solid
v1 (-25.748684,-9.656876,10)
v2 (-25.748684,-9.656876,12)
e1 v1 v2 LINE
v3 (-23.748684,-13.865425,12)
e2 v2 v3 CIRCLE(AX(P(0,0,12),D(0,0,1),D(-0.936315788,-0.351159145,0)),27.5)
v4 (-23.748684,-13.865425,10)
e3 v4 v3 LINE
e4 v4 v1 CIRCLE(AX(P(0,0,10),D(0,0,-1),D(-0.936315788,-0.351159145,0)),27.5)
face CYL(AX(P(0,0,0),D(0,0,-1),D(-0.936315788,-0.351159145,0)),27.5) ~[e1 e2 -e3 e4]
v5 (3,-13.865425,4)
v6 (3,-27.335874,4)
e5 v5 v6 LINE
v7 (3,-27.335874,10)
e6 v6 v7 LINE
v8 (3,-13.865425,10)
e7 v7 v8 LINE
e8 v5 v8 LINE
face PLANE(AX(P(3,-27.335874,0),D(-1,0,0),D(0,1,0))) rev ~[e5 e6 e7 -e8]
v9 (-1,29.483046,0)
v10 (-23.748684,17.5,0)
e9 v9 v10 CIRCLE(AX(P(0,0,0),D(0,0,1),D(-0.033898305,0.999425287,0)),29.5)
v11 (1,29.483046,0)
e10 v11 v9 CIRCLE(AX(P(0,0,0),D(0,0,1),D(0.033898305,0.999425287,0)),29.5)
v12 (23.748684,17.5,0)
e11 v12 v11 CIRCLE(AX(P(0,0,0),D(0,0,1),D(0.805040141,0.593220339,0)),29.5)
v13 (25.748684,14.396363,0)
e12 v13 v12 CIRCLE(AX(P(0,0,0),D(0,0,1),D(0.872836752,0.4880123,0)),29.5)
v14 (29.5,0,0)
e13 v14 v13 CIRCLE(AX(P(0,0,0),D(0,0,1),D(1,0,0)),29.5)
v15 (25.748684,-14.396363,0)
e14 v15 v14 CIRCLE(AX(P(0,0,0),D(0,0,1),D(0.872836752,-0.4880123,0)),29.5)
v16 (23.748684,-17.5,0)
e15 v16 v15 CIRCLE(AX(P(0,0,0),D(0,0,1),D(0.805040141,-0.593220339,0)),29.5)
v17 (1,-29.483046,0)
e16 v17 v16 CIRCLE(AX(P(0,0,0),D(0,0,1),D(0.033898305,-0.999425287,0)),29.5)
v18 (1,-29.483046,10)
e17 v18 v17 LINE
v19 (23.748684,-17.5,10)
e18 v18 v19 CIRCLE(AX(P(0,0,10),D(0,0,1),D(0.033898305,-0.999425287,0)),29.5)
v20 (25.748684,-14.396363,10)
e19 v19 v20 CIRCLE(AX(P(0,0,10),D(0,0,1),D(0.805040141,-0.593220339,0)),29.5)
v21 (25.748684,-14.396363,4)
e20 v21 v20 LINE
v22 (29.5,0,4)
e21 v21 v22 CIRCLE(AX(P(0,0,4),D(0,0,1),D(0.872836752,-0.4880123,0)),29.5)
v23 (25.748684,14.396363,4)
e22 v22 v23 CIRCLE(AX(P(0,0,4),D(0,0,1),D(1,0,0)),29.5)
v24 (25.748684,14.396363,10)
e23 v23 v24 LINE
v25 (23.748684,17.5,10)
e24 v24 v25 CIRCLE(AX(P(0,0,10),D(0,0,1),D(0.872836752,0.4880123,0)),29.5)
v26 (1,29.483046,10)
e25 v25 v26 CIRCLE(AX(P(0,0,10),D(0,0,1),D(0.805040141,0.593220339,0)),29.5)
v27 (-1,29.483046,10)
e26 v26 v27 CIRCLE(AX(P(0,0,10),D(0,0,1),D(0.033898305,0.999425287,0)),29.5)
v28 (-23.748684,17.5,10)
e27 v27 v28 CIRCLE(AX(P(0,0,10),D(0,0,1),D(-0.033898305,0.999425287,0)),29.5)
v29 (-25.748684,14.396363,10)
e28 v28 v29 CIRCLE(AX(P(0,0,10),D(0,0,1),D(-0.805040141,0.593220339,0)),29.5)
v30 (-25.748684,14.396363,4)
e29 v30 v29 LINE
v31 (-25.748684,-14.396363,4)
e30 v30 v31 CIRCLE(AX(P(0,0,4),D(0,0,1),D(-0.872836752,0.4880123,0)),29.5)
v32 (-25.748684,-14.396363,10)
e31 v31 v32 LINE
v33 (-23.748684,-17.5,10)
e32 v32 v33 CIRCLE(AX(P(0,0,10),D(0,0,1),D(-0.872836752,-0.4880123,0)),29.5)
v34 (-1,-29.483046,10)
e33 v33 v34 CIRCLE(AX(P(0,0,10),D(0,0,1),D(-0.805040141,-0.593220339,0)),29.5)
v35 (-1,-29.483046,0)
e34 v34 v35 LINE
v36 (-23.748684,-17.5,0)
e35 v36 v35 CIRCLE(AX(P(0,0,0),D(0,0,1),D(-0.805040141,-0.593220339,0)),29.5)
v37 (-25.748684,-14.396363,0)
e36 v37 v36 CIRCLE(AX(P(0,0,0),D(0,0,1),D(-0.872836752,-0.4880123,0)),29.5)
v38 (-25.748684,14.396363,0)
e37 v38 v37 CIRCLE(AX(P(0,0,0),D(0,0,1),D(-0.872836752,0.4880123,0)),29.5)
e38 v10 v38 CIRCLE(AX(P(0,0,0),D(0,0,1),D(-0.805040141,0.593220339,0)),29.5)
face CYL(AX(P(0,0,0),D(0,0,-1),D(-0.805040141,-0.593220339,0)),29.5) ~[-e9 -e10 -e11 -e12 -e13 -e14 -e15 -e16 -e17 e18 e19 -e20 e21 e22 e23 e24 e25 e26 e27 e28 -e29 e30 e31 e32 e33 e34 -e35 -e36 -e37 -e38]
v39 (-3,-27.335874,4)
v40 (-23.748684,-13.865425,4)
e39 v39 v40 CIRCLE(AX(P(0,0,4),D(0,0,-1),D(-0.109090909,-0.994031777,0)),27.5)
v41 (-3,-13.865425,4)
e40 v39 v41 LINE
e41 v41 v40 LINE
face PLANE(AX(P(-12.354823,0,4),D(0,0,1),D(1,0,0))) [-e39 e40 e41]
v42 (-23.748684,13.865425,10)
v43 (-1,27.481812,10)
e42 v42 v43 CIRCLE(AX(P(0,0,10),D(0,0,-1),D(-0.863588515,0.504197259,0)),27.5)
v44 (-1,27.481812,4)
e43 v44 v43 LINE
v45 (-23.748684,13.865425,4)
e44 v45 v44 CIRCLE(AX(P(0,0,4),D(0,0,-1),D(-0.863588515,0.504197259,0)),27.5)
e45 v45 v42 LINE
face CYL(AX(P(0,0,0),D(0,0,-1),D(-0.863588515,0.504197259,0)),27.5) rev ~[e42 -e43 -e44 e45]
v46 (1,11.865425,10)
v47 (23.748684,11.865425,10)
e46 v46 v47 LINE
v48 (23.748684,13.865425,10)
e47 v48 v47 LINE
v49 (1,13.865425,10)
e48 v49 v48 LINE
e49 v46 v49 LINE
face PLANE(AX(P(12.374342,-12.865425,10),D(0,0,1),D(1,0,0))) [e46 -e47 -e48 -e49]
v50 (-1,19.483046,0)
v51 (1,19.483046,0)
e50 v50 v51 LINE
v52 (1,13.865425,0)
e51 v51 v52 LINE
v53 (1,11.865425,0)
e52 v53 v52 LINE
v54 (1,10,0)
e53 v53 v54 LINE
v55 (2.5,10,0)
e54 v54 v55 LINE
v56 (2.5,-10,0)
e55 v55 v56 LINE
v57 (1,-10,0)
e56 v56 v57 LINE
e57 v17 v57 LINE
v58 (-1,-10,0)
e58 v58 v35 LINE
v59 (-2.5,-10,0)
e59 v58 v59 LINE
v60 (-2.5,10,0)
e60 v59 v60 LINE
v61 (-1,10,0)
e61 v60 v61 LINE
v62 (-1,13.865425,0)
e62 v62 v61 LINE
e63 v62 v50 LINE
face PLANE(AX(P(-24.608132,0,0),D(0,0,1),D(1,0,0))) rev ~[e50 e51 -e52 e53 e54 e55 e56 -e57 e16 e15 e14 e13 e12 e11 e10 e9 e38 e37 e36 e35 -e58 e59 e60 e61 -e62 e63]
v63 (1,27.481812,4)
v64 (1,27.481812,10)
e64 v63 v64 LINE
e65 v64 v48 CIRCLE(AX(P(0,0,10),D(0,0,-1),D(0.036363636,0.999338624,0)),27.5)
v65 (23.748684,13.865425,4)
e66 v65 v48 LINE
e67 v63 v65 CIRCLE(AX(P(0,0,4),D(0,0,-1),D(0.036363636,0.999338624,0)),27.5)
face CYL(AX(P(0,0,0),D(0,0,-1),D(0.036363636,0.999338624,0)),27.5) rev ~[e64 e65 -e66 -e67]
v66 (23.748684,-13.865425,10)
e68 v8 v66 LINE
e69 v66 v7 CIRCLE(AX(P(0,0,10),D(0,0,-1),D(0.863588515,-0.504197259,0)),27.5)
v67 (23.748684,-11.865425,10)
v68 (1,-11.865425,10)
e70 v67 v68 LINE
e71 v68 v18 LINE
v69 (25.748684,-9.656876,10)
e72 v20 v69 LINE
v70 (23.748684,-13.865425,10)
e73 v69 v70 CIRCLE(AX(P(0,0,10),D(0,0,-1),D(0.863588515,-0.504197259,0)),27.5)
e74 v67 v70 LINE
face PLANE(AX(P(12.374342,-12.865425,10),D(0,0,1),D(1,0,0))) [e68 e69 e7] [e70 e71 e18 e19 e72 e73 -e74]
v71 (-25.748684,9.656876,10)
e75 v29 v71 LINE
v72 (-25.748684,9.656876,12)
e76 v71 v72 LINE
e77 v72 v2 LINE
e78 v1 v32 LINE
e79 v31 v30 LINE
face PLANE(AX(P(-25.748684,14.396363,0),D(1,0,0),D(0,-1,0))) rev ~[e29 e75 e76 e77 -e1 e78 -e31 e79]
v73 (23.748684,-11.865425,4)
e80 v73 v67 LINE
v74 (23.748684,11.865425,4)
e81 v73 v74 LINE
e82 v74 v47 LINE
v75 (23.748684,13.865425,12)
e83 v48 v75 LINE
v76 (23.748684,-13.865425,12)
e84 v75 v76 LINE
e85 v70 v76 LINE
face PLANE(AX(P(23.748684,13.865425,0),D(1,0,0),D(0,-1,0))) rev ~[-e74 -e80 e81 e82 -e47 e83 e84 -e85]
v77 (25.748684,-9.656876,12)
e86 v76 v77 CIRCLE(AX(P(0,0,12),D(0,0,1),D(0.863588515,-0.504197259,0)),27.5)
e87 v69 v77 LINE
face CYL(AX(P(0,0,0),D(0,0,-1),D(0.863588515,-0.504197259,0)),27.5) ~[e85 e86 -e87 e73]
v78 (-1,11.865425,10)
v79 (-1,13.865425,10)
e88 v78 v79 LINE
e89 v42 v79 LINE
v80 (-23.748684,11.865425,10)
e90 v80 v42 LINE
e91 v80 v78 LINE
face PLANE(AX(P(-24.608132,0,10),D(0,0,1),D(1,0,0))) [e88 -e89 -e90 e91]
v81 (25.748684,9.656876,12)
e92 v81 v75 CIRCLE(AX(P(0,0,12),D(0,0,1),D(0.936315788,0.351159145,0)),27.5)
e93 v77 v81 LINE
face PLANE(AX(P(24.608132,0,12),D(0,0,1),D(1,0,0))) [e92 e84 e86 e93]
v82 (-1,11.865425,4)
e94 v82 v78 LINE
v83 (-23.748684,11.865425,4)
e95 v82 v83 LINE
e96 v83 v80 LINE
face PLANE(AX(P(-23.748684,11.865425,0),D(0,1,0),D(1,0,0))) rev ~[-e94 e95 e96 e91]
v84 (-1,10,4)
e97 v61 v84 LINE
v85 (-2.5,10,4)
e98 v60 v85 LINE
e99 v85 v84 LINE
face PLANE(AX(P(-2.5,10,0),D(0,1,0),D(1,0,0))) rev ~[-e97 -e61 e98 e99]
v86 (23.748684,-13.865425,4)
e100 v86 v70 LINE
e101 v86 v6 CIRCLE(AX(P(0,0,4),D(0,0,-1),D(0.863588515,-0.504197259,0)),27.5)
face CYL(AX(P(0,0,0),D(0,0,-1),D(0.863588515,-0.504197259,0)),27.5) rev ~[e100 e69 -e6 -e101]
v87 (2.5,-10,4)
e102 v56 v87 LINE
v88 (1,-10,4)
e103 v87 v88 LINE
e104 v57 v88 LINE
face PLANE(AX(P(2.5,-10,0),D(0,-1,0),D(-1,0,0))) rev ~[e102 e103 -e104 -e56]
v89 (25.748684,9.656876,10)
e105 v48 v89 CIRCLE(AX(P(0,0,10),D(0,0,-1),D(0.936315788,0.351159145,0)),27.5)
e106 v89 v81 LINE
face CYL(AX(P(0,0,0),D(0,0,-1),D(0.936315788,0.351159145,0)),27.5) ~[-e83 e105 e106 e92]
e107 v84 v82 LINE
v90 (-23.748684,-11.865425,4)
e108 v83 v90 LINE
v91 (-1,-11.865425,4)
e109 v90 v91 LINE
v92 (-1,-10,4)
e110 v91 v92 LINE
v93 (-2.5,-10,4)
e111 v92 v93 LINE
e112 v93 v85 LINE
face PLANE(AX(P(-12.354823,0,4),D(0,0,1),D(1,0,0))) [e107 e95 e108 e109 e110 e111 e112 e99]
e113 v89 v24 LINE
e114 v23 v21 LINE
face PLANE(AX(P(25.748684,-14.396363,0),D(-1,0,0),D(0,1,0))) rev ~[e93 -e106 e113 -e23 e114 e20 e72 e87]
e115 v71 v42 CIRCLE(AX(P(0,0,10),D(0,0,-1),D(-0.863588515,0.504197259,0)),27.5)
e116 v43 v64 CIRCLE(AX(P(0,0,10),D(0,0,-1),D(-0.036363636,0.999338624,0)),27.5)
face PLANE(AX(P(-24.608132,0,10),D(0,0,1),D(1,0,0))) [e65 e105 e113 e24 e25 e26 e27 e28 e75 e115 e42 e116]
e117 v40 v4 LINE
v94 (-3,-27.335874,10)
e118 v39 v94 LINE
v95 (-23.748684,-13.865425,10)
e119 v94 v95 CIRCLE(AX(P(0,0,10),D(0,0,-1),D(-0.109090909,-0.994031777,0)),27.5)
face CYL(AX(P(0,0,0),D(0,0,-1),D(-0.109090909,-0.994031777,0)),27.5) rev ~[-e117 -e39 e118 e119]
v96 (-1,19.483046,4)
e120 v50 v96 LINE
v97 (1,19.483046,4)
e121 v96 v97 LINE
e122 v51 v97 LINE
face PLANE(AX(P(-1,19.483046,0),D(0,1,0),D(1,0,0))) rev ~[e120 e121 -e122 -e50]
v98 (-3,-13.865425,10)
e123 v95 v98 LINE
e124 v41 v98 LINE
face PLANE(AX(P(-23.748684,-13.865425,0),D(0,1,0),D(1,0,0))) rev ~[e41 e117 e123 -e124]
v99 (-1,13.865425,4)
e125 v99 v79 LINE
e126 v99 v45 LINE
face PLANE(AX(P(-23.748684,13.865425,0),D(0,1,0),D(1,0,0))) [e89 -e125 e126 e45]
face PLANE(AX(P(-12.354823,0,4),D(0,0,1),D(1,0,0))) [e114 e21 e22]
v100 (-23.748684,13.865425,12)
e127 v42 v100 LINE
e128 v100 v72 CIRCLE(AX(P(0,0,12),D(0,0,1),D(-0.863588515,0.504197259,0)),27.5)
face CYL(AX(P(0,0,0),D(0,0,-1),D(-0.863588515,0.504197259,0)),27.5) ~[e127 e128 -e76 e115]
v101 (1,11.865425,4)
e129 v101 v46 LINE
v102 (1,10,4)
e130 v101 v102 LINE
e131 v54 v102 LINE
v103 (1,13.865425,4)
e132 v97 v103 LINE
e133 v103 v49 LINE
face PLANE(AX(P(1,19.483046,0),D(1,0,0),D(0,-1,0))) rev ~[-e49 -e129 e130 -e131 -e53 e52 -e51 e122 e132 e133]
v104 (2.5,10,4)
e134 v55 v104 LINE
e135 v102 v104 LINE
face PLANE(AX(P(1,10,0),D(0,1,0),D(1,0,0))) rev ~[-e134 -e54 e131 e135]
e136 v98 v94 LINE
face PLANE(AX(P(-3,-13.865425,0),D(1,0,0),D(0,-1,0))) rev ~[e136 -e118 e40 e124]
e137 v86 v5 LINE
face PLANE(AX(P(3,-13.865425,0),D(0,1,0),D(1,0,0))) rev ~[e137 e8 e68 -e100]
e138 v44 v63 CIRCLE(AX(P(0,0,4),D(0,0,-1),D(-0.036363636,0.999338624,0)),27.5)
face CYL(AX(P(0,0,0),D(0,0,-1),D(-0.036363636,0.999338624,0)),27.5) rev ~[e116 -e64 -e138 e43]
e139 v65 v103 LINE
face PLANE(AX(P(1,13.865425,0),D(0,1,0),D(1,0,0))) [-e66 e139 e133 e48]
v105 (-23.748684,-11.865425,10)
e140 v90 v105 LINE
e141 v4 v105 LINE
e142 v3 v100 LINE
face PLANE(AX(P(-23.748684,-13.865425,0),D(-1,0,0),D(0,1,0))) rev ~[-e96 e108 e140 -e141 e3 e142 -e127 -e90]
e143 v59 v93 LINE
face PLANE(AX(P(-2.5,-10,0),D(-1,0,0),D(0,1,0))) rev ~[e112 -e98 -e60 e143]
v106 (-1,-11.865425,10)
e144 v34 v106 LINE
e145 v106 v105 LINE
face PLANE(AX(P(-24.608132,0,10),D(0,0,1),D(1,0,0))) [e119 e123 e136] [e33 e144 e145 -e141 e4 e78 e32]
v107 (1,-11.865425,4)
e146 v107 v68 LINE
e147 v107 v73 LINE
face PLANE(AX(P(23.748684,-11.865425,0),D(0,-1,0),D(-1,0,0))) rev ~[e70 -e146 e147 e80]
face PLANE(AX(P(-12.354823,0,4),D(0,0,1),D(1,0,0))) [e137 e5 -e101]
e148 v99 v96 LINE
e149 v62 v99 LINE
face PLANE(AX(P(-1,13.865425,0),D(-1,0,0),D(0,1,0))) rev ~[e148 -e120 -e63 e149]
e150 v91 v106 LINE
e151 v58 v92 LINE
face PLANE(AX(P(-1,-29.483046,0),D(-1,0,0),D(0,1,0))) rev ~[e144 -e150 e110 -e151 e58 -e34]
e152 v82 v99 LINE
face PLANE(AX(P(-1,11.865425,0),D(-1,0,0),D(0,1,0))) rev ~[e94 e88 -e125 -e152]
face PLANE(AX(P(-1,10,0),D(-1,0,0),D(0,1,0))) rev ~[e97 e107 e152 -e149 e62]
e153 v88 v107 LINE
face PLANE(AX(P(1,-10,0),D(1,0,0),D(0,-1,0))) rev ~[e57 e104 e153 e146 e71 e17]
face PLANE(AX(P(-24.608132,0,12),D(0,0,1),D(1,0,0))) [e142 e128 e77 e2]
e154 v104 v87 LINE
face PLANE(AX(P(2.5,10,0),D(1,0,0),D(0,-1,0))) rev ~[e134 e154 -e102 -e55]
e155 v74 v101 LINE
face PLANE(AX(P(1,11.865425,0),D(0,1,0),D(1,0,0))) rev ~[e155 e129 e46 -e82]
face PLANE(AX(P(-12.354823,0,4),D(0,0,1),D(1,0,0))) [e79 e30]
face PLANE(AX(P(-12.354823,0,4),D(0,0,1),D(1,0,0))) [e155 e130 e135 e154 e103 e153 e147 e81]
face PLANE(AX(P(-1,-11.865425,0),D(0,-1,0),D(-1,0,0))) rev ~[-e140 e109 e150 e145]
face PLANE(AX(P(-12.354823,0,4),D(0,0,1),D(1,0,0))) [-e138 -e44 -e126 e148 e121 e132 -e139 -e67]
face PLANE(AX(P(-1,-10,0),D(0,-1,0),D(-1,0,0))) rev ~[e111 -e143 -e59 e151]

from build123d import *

# Parameters (mm, degrees)
F0_W     = 22.7486841741
F0_H     = 2
F1_DEPTH = 4
F2_DEPTH = 12
F3_DEPTH = 10
F4_DEPTH = 10


with BuildPart() as f1:
    # F0 (on Top) → F1 (new body)
    with BuildSketch(Plane.XY):
        Polygon((-1, 10), (-1, 11.8654246239), (-23.7486841741, 11.8654246239), (-23.7486841741, -11.8654246239), (-1, -11.8654246239), (-1, -10), (-2.5, -10), (-2.5, 10), align=None)
        with BuildLine():
            Line((-23.7486841741, 11.8654246239), (-23.7486841741, 13.8654246239))
            ThreePointArc((-23.7486841741, 13.8654246239), (-24.8379817562, 11.8035868395), (-25.7486841741, 9.6568764776))
            Line((-25.7486841741, 9.6568764776), (-25.7486841741, -9.6568764776))
            ThreePointArc((-25.7486841741, -9.6568764776), (-24.8379817562, -11.8035868395), (-23.7486841741, -13.8654246239))
            Line((-23.7486841741, -13.8654246239), (-23.7486841741, -11.8654246239))
            Line((-23.7486841741, -11.8654246239), (-23.7486841741, 11.8654246239))
        make_face()
        with BuildLine():
            Line((-25.7486841741, -9.6568764776), (-25.7486841741, 9.6568764776))
            ThreePointArc((-25.7486841741, 9.6568764776), (-27.5, 0), (-25.7486841741, -9.6568764776))
        make_face()
        with BuildLine():
            Line((-25.7486841741, 9.6568764776), (-25.7486841741, 14.3963628498))
            ThreePointArc((-25.7486841741, 14.3963628498), (-29.5, 0), (-25.7486841741, -14.3963628498))
            Line((-25.7486841741, -14.3963628498), (-25.7486841741, -9.6568764776))
            ThreePointArc((-25.7486841741, -9.6568764776), (-27.5, 0), (-25.7486841741, 9.6568764776))
        make_face()
        with BuildLine():
            Line((-23.7486841741, 13.8654246239), (-23.7486841741, 17.5))
            ThreePointArc((-23.7486841741, 17.5), (-24.7972883445, 15.9795022063), (-25.7486841741, 14.3963628498))
            Line((-25.7486841741, 14.3963628498), (-25.7486841741, 9.6568764776))
            ThreePointArc((-25.7486841741, 9.6568764776), (-24.8379817562, 11.8035868395), (-23.7486841741, 13.8654246239))
        make_face()
        with BuildLine():
            Line((-1, 27.4818121673), (-1, 29.4830459756))
            ThreePointArc((-1, 29.4830459756), (-13.7485522802, 26.1003316109), (-23.7486841741, 17.5))
            Line((-23.7486841741, 17.5), (-23.7486841741, 13.8654246239))
            ThreePointArc((-23.7486841741, 13.8654246239), (-14.1235917712, 23.5960622876), (-1, 27.4818121673))
        make_face()
        with BuildLine():
            Line((-1, 19.4830459756), (-1, 27.4818121673))
            ThreePointArc((-1, 27.4818121673), (-14.1235917712, 23.5960622876), (-23.7486841741, 13.8654246239))
            Line((-23.7486841741, 13.8654246239), (-1, 13.8654246239))
            Line((-1, 13.8654246239), (-1, 19.4830459756))
        make_face()
        with Locations((-12.374342087, 12.8654246239)):
            Rectangle(F0_W, F0_H)
        with BuildLine():
            Line((23.7486841741, 13.8654246239), (23.7486841741, 17.5))
            ThreePointArc((23.7486841741, 17.5), (13.7485522802, 26.1003316109), (1, 29.4830459756))
            Line((1, 29.4830459756), (1, 27.4818121673))
            ThreePointArc((1, 27.4818121673), (14.1235917712, 23.5960622876), (23.7486841741, 13.8654246239))
        make_face()
        with BuildLine():
            Line((1, 27.4818121673), (1, 29.4830459756))
            ThreePointArc((1, 29.4830459756), (0, 29.5), (-1, 29.4830459756))
            Line((-1, 29.4830459756), (-1, 27.4818121673))
            ThreePointArc((-1, 27.4818121673), (0, 27.5), (1, 27.4818121673))
        make_face()
        with BuildLine():
            Line((1, 19.4830459756), (1, 27.4818121673))
            ThreePointArc((1, 27.4818121673), (0, 27.5), (-1, 27.4818121673))
            Line((-1, 27.4818121673), (-1, 19.4830459756))
            Line((-1, 19.4830459756), (1, 19.4830459756))
        make_face()
        with BuildLine():
            Line((1, 13.8654246239), (23.7486841741, 13.8654246239))
            ThreePointArc((23.7486841741, 13.8654246239), (14.1235917712, 23.5960622876), (1, 27.4818121673))
            Line((1, 27.4818121673), (1, 19.4830459756))
            Line((1, 19.4830459756), (1, 13.8654246239))
        make_face()
        with Locations((12.374342087, 12.8654246239)):
            Rectangle(F0_W, F0_H)
        Polygon((23.7486841741, -11.8654246239), (23.7486841741, 11.8654246239), (1, 11.8654246239), (1, 10), (2.5, 10), (2.5, -10), (1, -10), (1, -11.8654246239), align=None)
        Polygon((3, -13.8654246239), (23.7486841741, -13.8654246239), (23.7486841741, -11.8654246239), (1, -11.8654246239), (1, -13.8654246239), align=None)
        with BuildLine():
            ThreePointArc((3, -27.3358738657), (14.9745209257, -23.0654226721), (23.7486841741, -13.8654246239))
            Line((23.7486841741, -13.8654246239), (3, -13.8654246239))
            Line((3, -13.8654246239), (3, -27.3358738657))
        make_face()
        Polygon((-23.7486841741, -11.8654246239), (-23.7486841741, -13.8654246239), (-3, -13.8654246239), (-1, -13.8654246239), (-1, -11.8654246239), align=None)
        with BuildLine():
            Line((-3, -13.8654246239), (-23.7486841741, -13.8654246239))
            ThreePointArc((-23.7486841741, -13.8654246239), (-14.9745209257, -23.0654226721), (-3, -27.3358738657))
            Line((-3, -27.3358738657), (-3, -13.8654246239))
        make_face()
        with BuildLine():
            ThreePointArc((-23.7486841741, -17.5), (-13.7485522802, -26.1003316109), (-1, -29.4830459756))
            Line((-1, -29.4830459756), (-1, -27.4818121673))
            ThreePointArc((-1, -27.4818121673), (-2.0013306816, -27.4270792376), (-3, -27.3358738657))
            ThreePointArc((-3, -27.3358738657), (-14.9745209257, -23.0654226721), (-23.7486841741, -13.8654246239))
            Line((-23.7486841741, -13.8654246239), (-23.7486841741, -17.5))
        make_face()
        with BuildLine():
            ThreePointArc((-25.7486841741, -14.3963628498), (-24.7972883445, -15.9795022063), (-23.7486841741, -17.5))
            Line((-23.7486841741, -17.5), (-23.7486841741, -13.8654246239))
            ThreePointArc((-23.7486841741, -13.8654246239), (-24.8379817562, -11.8035868395), (-25.7486841741, -9.6568764776))
            Line((-25.7486841741, -9.6568764776), (-25.7486841741, -14.3963628498))
        make_face()
        with BuildLine():
            ThreePointArc((1, -29.4830459756), (13.7485522802, -26.1003316109), (23.7486841741, -17.5))
            Line((23.7486841741, -17.5), (23.7486841741, -13.8654246239))
            ThreePointArc((23.7486841741, -13.8654246239), (14.9745209257, -23.0654226721), (3, -27.3358738657))
            ThreePointArc((3, -27.3358738657), (2.0013306816, -27.4270792376), (1, -27.4818121673))
            Line((1, -27.4818121673), (1, -29.4830459756))
        make_face()
        with BuildLine():
            Line((25.7486841741, -9.6568764776), (25.7486841741, 9.6568764776))
            ThreePointArc((25.7486841741, 9.6568764776), (24.8379817562, 11.8035868395), (23.7486841741, 13.8654246239))
            Line((23.7486841741, 13.8654246239), (23.7486841741, 11.8654246239))
            Line((23.7486841741, 11.8654246239), (23.7486841741, -11.8654246239))
            Line((23.7486841741, -11.8654246239), (23.7486841741, -13.8654246239))
            ThreePointArc((23.7486841741, -13.8654246239), (24.8379817562, -11.8035868395), (25.7486841741, -9.6568764776))
        make_face()
        with BuildLine():
            ThreePointArc((27.5, 0), (27.0586290745, 4.9071980403), (25.7486841741, 9.6568764776))
            Line((25.7486841741, 9.6568764776), (25.7486841741, -9.6568764776))
            ThreePointArc((25.7486841741, -9.6568764776), (27.0586290745, -4.9071980403), (27.5, 0))
        make_face()
        with BuildLine():
            ThreePointArc((25.7486841741, -14.3963628498), (28.5467702476, -7.4385420905), (29.5, 0))
            ThreePointArc((29.5, 0), (28.5467702476, 7.4385420905), (25.7486841741, 14.3963628498))
            Line((25.7486841741, 14.3963628498), (25.7486841741, 9.6568764776))
            ThreePointArc((25.7486841741, 9.6568764776), (27.0586290745, 4.9071980403), (27.5, 0))
            ThreePointArc((27.5, 0), (27.0586290745, -4.9071980403), (25.7486841741, -9.6568764776))
            Line((25.7486841741, -9.6568764776), (25.7486841741, -14.3963628498))
        make_face()
        with BuildLine():
            Line((25.7486841741, 9.6568764776), (25.7486841741, 14.3963628498))
            ThreePointArc((25.7486841741, 14.3963628498), (24.7972883445, 15.9795022063), (23.7486841741, 17.5))
            Line((23.7486841741, 17.5), (23.7486841741, 13.8654246239))
            ThreePointArc((23.7486841741, 13.8654246239), (24.8379817562, 11.8035868395), (25.7486841741, 9.6568764776))
        make_face()
        with BuildLine():
            ThreePointArc((23.7486841741, -17.5), (24.7972883445, -15.9795022063), (25.7486841741, -14.3963628498))
            Line((25.7486841741, -14.3963628498), (25.7486841741, -9.6568764776))
            ThreePointArc((25.7486841741, -9.6568764776), (24.8379817562, -11.8035868395), (23.7486841741, -13.8654246239))
            Line((23.7486841741, -13.8654246239), (23.7486841741, -17.5))
        make_face()
        with BuildLine():
            ThreePointArc((-3, -27.3358738657), (-2.0013306816, -27.4270792376), (-1, -27.4818121673))
            Line((-1, -27.4818121673), (-1, -13.8654246239))
            Line((-1, -13.8654246239), (-3, -13.8654246239))
            Line((-3, -13.8654246239), (-3, -27.3358738657))
        make_face()
        with BuildLine():
            Line((1, -13.8654246239), (1, -27.4818121673))
            ThreePointArc((1, -27.4818121673), (2.0013306816, -27.4270792376), (3, -27.3358738657))
            Line((3, -27.3358738657), (3, -13.8654246239))
            Line((3, -13.8654246239), (1, -13.8654246239))
        make_face()
    extrude(amount=F1_DEPTH)

    # F0 (on Top) → F2 (join)
    with BuildSketch(Plane.XY):
        with BuildLine():
            Line((-23.7486841741, 11.8654246239), (-23.7486841741, 13.8654246239))
            ThreePointArc((-23.7486841741, 13.8654246239), (-24.8379817562, 11.8035868395), (-25.7486841741, 9.6568764776))
            Line((-25.7486841741, 9.6568764776), (-25.7486841741, -9.6568764776))
            ThreePointArc((-25.7486841741, -9.6568764776), (-24.8379817562, -11.8035868395), (-23.7486841741, -13.8654246239))
            Line((-23.7486841741, -13.8654246239), (-23.7486841741, -11.8654246239))
            Line((-23.7486841741, -11.8654246239), (-23.7486841741, 11.8654246239))
        make_face()
        with BuildLine():
            Line((25.7486841741, -9.6568764776), (25.7486841741, 9.6568764776))
            ThreePointArc((25.7486841741, 9.6568764776), (24.8379817562, 11.8035868395), (23.7486841741, 13.8654246239))
            Line((23.7486841741, 13.8654246239), (23.7486841741, 11.8654246239))
            Line((23.7486841741, 11.8654246239), (23.7486841741, -11.8654246239))
            Line((23.7486841741, -11.8654246239), (23.7486841741, -13.8654246239))
            ThreePointArc((23.7486841741, -13.8654246239), (24.8379817562, -11.8035868395), (25.7486841741, -9.6568764776))
        make_face()
    extrude(amount=F2_DEPTH)

    # F0 (on Top) → F3 (join)
    with BuildSketch(Plane.XY):
        with BuildLine():
            Line((-23.7486841741, 11.8654246239), (-23.7486841741, 13.8654246239))
            ThreePointArc((-23.7486841741, 13.8654246239), (-24.8379817562, 11.8035868395), (-25.7486841741, 9.6568764776))
            Line((-25.7486841741, 9.6568764776), (-25.7486841741, -9.6568764776))
            ThreePointArc((-25.7486841741, -9.6568764776), (-24.8379817562, -11.8035868395), (-23.7486841741, -13.8654246239))
            Line((-23.7486841741, -13.8654246239), (-23.7486841741, -11.8654246239))
            Line((-23.7486841741, -11.8654246239), (-23.7486841741, 11.8654246239))
        make_face()
        with BuildLine():
            ThreePointArc((-25.7486841741, -14.3963628498), (-24.7972883445, -15.9795022063), (-23.7486841741, -17.5))
            Line((-23.7486841741, -17.5), (-23.7486841741, -13.8654246239))
            ThreePointArc((-23.7486841741, -13.8654246239), (-24.8379817562, -11.8035868395), (-25.7486841741, -9.6568764776))
            Line((-25.7486841741, -9.6568764776), (-25.7486841741, -14.3963628498))
        make_face()
        with BuildLine():
            ThreePointArc((-23.7486841741, -17.5), (-13.7485522802, -26.1003316109), (-1, -29.4830459756))
            Line((-1, -29.4830459756), (-1, -27.4818121673))
            ThreePointArc((-1, -27.4818121673), (-2.0013306816, -27.4270792376), (-3, -27.3358738657))
            ThreePointArc((-3, -27.3358738657), (-14.9745209257, -23.0654226721), (-23.7486841741, -13.8654246239))
            Line((-23.7486841741, -13.8654246239), (-23.7486841741, -17.5))
        make_face()
        with BuildLine():
            ThreePointArc((-3, -27.3358738657), (-2.0013306816, -27.4270792376), (-1, -27.4818121673))
            Line((-1, -27.4818121673), (-1, -13.8654246239))
            Line((-1, -13.8654246239), (-3, -13.8654246239))
            Line((-3, -13.8654246239), (-3, -27.3358738657))
        make_face()
        Polygon((-23.7486841741, -11.8654246239), (-23.7486841741, -13.8654246239), (-3, -13.8654246239), (-1, -13.8654246239), (-1, -11.8654246239), align=None)
        Polygon((3, -13.8654246239), (23.7486841741, -13.8654246239), (23.7486841741, -11.8654246239), (1, -11.8654246239), (1, -13.8654246239), align=None)
        with BuildLine():
            Line((1, -13.8654246239), (1, -27.4818121673))
            ThreePointArc((1, -27.4818121673), (2.0013306816, -27.4270792376), (3, -27.3358738657))
            Line((3, -27.3358738657), (3, -13.8654246239))
            Line((3, -13.8654246239), (1, -13.8654246239))
        make_face()
        with BuildLine():
            ThreePointArc((1, -29.4830459756), (13.7485522802, -26.1003316109), (23.7486841741, -17.5))
            Line((23.7486841741, -17.5), (23.7486841741, -13.8654246239))
            ThreePointArc((23.7486841741, -13.8654246239), (14.9745209257, -23.0654226721), (3, -27.3358738657))
            ThreePointArc((3, -27.3358738657), (2.0013306816, -27.4270792376), (1, -27.4818121673))
            Line((1, -27.4818121673), (1, -29.4830459756))
        make_face()
        with BuildLine():
            Line((25.7486841741, -9.6568764776), (25.7486841741, 9.6568764776))
            ThreePointArc((25.7486841741, 9.6568764776), (24.8379817562, 11.8035868395), (23.7486841741, 13.8654246239))
            Line((23.7486841741, 13.8654246239), (23.7486841741, 11.8654246239))
            Line((23.7486841741, 11.8654246239), (23.7486841741, -11.8654246239))
            Line((23.7486841741, -11.8654246239), (23.7486841741, -13.8654246239))
            ThreePointArc((23.7486841741, -13.8654246239), (24.8379817562, -11.8035868395), (25.7486841741, -9.6568764776))
        make_face()
        with BuildLine():
            Line((25.7486841741, 9.6568764776), (25.7486841741, 14.3963628498))
            ThreePointArc((25.7486841741, 14.3963628498), (24.7972883445, 15.9795022063), (23.7486841741, 17.5))
            Line((23.7486841741, 17.5), (23.7486841741, 13.8654246239))
            ThreePointArc((23.7486841741, 13.8654246239), (24.8379817562, 11.8035868395), (25.7486841741, 9.6568764776))
        make_face()
        with BuildLine():
            ThreePointArc((23.7486841741, -17.5), (24.7972883445, -15.9795022063), (25.7486841741, -14.3963628498))
            Line((25.7486841741, -14.3963628498), (25.7486841741, -9.6568764776))
            ThreePointArc((25.7486841741, -9.6568764776), (24.8379817562, -11.8035868395), (23.7486841741, -13.8654246239))
            Line((23.7486841741, -13.8654246239), (23.7486841741, -17.5))
        make_face()
        with BuildLine():
            Line((23.7486841741, 13.8654246239), (23.7486841741, 17.5))
            ThreePointArc((23.7486841741, 17.5), (13.7485522802, 26.1003316109), (1, 29.4830459756))
            Line((1, 29.4830459756), (1, 27.4818121673))
            ThreePointArc((1, 27.4818121673), (14.1235917712, 23.5960622876), (23.7486841741, 13.8654246239))
        make_face()
        with BuildLine():
            Line((-1, 27.4818121673), (-1, 29.4830459756))
            ThreePointArc((-1, 29.4830459756), (-13.7485522802, 26.1003316109), (-23.7486841741, 17.5))
            Line((-23.7486841741, 17.5), (-23.7486841741, 13.8654246239))
            ThreePointArc((-23.7486841741, 13.8654246239), (-14.1235917712, 23.5960622876), (-1, 27.4818121673))
        make_face()
        with BuildLine():
            Line((-23.7486841741, 13.8654246239), (-23.7486841741, 17.5))
            ThreePointArc((-23.7486841741, 17.5), (-24.7972883445, 15.9795022063), (-25.7486841741, 14.3963628498))
            Line((-25.7486841741, 14.3963628498), (-25.7486841741, 9.6568764776))
            ThreePointArc((-25.7486841741, 9.6568764776), (-24.8379817562, 11.8035868395), (-23.7486841741, 13.8654246239))
        make_face()
        with Locations((-12.374342087, 12.8654246239)):
            Rectangle(F0_W, F0_H)
        with Locations((12.374342087, 12.8654246239)):
            Rectangle(F0_W, F0_H)
    extrude(amount=F3_DEPTH)

    # F0 (on Top) → F4 (join)
    with BuildSketch(Plane.XY):
        with BuildLine():
            Line((1, 27.4818121673), (1, 29.4830459756))
            ThreePointArc((1, 29.4830459756), (0, 29.5), (-1, 29.4830459756))
            Line((-1, 29.4830459756), (-1, 27.4818121673))
            ThreePointArc((-1, 27.4818121673), (0, 27.5), (1, 27.4818121673))
        make_face()
    extrude(amount=F4_DEPTH)


solid = f1.part
